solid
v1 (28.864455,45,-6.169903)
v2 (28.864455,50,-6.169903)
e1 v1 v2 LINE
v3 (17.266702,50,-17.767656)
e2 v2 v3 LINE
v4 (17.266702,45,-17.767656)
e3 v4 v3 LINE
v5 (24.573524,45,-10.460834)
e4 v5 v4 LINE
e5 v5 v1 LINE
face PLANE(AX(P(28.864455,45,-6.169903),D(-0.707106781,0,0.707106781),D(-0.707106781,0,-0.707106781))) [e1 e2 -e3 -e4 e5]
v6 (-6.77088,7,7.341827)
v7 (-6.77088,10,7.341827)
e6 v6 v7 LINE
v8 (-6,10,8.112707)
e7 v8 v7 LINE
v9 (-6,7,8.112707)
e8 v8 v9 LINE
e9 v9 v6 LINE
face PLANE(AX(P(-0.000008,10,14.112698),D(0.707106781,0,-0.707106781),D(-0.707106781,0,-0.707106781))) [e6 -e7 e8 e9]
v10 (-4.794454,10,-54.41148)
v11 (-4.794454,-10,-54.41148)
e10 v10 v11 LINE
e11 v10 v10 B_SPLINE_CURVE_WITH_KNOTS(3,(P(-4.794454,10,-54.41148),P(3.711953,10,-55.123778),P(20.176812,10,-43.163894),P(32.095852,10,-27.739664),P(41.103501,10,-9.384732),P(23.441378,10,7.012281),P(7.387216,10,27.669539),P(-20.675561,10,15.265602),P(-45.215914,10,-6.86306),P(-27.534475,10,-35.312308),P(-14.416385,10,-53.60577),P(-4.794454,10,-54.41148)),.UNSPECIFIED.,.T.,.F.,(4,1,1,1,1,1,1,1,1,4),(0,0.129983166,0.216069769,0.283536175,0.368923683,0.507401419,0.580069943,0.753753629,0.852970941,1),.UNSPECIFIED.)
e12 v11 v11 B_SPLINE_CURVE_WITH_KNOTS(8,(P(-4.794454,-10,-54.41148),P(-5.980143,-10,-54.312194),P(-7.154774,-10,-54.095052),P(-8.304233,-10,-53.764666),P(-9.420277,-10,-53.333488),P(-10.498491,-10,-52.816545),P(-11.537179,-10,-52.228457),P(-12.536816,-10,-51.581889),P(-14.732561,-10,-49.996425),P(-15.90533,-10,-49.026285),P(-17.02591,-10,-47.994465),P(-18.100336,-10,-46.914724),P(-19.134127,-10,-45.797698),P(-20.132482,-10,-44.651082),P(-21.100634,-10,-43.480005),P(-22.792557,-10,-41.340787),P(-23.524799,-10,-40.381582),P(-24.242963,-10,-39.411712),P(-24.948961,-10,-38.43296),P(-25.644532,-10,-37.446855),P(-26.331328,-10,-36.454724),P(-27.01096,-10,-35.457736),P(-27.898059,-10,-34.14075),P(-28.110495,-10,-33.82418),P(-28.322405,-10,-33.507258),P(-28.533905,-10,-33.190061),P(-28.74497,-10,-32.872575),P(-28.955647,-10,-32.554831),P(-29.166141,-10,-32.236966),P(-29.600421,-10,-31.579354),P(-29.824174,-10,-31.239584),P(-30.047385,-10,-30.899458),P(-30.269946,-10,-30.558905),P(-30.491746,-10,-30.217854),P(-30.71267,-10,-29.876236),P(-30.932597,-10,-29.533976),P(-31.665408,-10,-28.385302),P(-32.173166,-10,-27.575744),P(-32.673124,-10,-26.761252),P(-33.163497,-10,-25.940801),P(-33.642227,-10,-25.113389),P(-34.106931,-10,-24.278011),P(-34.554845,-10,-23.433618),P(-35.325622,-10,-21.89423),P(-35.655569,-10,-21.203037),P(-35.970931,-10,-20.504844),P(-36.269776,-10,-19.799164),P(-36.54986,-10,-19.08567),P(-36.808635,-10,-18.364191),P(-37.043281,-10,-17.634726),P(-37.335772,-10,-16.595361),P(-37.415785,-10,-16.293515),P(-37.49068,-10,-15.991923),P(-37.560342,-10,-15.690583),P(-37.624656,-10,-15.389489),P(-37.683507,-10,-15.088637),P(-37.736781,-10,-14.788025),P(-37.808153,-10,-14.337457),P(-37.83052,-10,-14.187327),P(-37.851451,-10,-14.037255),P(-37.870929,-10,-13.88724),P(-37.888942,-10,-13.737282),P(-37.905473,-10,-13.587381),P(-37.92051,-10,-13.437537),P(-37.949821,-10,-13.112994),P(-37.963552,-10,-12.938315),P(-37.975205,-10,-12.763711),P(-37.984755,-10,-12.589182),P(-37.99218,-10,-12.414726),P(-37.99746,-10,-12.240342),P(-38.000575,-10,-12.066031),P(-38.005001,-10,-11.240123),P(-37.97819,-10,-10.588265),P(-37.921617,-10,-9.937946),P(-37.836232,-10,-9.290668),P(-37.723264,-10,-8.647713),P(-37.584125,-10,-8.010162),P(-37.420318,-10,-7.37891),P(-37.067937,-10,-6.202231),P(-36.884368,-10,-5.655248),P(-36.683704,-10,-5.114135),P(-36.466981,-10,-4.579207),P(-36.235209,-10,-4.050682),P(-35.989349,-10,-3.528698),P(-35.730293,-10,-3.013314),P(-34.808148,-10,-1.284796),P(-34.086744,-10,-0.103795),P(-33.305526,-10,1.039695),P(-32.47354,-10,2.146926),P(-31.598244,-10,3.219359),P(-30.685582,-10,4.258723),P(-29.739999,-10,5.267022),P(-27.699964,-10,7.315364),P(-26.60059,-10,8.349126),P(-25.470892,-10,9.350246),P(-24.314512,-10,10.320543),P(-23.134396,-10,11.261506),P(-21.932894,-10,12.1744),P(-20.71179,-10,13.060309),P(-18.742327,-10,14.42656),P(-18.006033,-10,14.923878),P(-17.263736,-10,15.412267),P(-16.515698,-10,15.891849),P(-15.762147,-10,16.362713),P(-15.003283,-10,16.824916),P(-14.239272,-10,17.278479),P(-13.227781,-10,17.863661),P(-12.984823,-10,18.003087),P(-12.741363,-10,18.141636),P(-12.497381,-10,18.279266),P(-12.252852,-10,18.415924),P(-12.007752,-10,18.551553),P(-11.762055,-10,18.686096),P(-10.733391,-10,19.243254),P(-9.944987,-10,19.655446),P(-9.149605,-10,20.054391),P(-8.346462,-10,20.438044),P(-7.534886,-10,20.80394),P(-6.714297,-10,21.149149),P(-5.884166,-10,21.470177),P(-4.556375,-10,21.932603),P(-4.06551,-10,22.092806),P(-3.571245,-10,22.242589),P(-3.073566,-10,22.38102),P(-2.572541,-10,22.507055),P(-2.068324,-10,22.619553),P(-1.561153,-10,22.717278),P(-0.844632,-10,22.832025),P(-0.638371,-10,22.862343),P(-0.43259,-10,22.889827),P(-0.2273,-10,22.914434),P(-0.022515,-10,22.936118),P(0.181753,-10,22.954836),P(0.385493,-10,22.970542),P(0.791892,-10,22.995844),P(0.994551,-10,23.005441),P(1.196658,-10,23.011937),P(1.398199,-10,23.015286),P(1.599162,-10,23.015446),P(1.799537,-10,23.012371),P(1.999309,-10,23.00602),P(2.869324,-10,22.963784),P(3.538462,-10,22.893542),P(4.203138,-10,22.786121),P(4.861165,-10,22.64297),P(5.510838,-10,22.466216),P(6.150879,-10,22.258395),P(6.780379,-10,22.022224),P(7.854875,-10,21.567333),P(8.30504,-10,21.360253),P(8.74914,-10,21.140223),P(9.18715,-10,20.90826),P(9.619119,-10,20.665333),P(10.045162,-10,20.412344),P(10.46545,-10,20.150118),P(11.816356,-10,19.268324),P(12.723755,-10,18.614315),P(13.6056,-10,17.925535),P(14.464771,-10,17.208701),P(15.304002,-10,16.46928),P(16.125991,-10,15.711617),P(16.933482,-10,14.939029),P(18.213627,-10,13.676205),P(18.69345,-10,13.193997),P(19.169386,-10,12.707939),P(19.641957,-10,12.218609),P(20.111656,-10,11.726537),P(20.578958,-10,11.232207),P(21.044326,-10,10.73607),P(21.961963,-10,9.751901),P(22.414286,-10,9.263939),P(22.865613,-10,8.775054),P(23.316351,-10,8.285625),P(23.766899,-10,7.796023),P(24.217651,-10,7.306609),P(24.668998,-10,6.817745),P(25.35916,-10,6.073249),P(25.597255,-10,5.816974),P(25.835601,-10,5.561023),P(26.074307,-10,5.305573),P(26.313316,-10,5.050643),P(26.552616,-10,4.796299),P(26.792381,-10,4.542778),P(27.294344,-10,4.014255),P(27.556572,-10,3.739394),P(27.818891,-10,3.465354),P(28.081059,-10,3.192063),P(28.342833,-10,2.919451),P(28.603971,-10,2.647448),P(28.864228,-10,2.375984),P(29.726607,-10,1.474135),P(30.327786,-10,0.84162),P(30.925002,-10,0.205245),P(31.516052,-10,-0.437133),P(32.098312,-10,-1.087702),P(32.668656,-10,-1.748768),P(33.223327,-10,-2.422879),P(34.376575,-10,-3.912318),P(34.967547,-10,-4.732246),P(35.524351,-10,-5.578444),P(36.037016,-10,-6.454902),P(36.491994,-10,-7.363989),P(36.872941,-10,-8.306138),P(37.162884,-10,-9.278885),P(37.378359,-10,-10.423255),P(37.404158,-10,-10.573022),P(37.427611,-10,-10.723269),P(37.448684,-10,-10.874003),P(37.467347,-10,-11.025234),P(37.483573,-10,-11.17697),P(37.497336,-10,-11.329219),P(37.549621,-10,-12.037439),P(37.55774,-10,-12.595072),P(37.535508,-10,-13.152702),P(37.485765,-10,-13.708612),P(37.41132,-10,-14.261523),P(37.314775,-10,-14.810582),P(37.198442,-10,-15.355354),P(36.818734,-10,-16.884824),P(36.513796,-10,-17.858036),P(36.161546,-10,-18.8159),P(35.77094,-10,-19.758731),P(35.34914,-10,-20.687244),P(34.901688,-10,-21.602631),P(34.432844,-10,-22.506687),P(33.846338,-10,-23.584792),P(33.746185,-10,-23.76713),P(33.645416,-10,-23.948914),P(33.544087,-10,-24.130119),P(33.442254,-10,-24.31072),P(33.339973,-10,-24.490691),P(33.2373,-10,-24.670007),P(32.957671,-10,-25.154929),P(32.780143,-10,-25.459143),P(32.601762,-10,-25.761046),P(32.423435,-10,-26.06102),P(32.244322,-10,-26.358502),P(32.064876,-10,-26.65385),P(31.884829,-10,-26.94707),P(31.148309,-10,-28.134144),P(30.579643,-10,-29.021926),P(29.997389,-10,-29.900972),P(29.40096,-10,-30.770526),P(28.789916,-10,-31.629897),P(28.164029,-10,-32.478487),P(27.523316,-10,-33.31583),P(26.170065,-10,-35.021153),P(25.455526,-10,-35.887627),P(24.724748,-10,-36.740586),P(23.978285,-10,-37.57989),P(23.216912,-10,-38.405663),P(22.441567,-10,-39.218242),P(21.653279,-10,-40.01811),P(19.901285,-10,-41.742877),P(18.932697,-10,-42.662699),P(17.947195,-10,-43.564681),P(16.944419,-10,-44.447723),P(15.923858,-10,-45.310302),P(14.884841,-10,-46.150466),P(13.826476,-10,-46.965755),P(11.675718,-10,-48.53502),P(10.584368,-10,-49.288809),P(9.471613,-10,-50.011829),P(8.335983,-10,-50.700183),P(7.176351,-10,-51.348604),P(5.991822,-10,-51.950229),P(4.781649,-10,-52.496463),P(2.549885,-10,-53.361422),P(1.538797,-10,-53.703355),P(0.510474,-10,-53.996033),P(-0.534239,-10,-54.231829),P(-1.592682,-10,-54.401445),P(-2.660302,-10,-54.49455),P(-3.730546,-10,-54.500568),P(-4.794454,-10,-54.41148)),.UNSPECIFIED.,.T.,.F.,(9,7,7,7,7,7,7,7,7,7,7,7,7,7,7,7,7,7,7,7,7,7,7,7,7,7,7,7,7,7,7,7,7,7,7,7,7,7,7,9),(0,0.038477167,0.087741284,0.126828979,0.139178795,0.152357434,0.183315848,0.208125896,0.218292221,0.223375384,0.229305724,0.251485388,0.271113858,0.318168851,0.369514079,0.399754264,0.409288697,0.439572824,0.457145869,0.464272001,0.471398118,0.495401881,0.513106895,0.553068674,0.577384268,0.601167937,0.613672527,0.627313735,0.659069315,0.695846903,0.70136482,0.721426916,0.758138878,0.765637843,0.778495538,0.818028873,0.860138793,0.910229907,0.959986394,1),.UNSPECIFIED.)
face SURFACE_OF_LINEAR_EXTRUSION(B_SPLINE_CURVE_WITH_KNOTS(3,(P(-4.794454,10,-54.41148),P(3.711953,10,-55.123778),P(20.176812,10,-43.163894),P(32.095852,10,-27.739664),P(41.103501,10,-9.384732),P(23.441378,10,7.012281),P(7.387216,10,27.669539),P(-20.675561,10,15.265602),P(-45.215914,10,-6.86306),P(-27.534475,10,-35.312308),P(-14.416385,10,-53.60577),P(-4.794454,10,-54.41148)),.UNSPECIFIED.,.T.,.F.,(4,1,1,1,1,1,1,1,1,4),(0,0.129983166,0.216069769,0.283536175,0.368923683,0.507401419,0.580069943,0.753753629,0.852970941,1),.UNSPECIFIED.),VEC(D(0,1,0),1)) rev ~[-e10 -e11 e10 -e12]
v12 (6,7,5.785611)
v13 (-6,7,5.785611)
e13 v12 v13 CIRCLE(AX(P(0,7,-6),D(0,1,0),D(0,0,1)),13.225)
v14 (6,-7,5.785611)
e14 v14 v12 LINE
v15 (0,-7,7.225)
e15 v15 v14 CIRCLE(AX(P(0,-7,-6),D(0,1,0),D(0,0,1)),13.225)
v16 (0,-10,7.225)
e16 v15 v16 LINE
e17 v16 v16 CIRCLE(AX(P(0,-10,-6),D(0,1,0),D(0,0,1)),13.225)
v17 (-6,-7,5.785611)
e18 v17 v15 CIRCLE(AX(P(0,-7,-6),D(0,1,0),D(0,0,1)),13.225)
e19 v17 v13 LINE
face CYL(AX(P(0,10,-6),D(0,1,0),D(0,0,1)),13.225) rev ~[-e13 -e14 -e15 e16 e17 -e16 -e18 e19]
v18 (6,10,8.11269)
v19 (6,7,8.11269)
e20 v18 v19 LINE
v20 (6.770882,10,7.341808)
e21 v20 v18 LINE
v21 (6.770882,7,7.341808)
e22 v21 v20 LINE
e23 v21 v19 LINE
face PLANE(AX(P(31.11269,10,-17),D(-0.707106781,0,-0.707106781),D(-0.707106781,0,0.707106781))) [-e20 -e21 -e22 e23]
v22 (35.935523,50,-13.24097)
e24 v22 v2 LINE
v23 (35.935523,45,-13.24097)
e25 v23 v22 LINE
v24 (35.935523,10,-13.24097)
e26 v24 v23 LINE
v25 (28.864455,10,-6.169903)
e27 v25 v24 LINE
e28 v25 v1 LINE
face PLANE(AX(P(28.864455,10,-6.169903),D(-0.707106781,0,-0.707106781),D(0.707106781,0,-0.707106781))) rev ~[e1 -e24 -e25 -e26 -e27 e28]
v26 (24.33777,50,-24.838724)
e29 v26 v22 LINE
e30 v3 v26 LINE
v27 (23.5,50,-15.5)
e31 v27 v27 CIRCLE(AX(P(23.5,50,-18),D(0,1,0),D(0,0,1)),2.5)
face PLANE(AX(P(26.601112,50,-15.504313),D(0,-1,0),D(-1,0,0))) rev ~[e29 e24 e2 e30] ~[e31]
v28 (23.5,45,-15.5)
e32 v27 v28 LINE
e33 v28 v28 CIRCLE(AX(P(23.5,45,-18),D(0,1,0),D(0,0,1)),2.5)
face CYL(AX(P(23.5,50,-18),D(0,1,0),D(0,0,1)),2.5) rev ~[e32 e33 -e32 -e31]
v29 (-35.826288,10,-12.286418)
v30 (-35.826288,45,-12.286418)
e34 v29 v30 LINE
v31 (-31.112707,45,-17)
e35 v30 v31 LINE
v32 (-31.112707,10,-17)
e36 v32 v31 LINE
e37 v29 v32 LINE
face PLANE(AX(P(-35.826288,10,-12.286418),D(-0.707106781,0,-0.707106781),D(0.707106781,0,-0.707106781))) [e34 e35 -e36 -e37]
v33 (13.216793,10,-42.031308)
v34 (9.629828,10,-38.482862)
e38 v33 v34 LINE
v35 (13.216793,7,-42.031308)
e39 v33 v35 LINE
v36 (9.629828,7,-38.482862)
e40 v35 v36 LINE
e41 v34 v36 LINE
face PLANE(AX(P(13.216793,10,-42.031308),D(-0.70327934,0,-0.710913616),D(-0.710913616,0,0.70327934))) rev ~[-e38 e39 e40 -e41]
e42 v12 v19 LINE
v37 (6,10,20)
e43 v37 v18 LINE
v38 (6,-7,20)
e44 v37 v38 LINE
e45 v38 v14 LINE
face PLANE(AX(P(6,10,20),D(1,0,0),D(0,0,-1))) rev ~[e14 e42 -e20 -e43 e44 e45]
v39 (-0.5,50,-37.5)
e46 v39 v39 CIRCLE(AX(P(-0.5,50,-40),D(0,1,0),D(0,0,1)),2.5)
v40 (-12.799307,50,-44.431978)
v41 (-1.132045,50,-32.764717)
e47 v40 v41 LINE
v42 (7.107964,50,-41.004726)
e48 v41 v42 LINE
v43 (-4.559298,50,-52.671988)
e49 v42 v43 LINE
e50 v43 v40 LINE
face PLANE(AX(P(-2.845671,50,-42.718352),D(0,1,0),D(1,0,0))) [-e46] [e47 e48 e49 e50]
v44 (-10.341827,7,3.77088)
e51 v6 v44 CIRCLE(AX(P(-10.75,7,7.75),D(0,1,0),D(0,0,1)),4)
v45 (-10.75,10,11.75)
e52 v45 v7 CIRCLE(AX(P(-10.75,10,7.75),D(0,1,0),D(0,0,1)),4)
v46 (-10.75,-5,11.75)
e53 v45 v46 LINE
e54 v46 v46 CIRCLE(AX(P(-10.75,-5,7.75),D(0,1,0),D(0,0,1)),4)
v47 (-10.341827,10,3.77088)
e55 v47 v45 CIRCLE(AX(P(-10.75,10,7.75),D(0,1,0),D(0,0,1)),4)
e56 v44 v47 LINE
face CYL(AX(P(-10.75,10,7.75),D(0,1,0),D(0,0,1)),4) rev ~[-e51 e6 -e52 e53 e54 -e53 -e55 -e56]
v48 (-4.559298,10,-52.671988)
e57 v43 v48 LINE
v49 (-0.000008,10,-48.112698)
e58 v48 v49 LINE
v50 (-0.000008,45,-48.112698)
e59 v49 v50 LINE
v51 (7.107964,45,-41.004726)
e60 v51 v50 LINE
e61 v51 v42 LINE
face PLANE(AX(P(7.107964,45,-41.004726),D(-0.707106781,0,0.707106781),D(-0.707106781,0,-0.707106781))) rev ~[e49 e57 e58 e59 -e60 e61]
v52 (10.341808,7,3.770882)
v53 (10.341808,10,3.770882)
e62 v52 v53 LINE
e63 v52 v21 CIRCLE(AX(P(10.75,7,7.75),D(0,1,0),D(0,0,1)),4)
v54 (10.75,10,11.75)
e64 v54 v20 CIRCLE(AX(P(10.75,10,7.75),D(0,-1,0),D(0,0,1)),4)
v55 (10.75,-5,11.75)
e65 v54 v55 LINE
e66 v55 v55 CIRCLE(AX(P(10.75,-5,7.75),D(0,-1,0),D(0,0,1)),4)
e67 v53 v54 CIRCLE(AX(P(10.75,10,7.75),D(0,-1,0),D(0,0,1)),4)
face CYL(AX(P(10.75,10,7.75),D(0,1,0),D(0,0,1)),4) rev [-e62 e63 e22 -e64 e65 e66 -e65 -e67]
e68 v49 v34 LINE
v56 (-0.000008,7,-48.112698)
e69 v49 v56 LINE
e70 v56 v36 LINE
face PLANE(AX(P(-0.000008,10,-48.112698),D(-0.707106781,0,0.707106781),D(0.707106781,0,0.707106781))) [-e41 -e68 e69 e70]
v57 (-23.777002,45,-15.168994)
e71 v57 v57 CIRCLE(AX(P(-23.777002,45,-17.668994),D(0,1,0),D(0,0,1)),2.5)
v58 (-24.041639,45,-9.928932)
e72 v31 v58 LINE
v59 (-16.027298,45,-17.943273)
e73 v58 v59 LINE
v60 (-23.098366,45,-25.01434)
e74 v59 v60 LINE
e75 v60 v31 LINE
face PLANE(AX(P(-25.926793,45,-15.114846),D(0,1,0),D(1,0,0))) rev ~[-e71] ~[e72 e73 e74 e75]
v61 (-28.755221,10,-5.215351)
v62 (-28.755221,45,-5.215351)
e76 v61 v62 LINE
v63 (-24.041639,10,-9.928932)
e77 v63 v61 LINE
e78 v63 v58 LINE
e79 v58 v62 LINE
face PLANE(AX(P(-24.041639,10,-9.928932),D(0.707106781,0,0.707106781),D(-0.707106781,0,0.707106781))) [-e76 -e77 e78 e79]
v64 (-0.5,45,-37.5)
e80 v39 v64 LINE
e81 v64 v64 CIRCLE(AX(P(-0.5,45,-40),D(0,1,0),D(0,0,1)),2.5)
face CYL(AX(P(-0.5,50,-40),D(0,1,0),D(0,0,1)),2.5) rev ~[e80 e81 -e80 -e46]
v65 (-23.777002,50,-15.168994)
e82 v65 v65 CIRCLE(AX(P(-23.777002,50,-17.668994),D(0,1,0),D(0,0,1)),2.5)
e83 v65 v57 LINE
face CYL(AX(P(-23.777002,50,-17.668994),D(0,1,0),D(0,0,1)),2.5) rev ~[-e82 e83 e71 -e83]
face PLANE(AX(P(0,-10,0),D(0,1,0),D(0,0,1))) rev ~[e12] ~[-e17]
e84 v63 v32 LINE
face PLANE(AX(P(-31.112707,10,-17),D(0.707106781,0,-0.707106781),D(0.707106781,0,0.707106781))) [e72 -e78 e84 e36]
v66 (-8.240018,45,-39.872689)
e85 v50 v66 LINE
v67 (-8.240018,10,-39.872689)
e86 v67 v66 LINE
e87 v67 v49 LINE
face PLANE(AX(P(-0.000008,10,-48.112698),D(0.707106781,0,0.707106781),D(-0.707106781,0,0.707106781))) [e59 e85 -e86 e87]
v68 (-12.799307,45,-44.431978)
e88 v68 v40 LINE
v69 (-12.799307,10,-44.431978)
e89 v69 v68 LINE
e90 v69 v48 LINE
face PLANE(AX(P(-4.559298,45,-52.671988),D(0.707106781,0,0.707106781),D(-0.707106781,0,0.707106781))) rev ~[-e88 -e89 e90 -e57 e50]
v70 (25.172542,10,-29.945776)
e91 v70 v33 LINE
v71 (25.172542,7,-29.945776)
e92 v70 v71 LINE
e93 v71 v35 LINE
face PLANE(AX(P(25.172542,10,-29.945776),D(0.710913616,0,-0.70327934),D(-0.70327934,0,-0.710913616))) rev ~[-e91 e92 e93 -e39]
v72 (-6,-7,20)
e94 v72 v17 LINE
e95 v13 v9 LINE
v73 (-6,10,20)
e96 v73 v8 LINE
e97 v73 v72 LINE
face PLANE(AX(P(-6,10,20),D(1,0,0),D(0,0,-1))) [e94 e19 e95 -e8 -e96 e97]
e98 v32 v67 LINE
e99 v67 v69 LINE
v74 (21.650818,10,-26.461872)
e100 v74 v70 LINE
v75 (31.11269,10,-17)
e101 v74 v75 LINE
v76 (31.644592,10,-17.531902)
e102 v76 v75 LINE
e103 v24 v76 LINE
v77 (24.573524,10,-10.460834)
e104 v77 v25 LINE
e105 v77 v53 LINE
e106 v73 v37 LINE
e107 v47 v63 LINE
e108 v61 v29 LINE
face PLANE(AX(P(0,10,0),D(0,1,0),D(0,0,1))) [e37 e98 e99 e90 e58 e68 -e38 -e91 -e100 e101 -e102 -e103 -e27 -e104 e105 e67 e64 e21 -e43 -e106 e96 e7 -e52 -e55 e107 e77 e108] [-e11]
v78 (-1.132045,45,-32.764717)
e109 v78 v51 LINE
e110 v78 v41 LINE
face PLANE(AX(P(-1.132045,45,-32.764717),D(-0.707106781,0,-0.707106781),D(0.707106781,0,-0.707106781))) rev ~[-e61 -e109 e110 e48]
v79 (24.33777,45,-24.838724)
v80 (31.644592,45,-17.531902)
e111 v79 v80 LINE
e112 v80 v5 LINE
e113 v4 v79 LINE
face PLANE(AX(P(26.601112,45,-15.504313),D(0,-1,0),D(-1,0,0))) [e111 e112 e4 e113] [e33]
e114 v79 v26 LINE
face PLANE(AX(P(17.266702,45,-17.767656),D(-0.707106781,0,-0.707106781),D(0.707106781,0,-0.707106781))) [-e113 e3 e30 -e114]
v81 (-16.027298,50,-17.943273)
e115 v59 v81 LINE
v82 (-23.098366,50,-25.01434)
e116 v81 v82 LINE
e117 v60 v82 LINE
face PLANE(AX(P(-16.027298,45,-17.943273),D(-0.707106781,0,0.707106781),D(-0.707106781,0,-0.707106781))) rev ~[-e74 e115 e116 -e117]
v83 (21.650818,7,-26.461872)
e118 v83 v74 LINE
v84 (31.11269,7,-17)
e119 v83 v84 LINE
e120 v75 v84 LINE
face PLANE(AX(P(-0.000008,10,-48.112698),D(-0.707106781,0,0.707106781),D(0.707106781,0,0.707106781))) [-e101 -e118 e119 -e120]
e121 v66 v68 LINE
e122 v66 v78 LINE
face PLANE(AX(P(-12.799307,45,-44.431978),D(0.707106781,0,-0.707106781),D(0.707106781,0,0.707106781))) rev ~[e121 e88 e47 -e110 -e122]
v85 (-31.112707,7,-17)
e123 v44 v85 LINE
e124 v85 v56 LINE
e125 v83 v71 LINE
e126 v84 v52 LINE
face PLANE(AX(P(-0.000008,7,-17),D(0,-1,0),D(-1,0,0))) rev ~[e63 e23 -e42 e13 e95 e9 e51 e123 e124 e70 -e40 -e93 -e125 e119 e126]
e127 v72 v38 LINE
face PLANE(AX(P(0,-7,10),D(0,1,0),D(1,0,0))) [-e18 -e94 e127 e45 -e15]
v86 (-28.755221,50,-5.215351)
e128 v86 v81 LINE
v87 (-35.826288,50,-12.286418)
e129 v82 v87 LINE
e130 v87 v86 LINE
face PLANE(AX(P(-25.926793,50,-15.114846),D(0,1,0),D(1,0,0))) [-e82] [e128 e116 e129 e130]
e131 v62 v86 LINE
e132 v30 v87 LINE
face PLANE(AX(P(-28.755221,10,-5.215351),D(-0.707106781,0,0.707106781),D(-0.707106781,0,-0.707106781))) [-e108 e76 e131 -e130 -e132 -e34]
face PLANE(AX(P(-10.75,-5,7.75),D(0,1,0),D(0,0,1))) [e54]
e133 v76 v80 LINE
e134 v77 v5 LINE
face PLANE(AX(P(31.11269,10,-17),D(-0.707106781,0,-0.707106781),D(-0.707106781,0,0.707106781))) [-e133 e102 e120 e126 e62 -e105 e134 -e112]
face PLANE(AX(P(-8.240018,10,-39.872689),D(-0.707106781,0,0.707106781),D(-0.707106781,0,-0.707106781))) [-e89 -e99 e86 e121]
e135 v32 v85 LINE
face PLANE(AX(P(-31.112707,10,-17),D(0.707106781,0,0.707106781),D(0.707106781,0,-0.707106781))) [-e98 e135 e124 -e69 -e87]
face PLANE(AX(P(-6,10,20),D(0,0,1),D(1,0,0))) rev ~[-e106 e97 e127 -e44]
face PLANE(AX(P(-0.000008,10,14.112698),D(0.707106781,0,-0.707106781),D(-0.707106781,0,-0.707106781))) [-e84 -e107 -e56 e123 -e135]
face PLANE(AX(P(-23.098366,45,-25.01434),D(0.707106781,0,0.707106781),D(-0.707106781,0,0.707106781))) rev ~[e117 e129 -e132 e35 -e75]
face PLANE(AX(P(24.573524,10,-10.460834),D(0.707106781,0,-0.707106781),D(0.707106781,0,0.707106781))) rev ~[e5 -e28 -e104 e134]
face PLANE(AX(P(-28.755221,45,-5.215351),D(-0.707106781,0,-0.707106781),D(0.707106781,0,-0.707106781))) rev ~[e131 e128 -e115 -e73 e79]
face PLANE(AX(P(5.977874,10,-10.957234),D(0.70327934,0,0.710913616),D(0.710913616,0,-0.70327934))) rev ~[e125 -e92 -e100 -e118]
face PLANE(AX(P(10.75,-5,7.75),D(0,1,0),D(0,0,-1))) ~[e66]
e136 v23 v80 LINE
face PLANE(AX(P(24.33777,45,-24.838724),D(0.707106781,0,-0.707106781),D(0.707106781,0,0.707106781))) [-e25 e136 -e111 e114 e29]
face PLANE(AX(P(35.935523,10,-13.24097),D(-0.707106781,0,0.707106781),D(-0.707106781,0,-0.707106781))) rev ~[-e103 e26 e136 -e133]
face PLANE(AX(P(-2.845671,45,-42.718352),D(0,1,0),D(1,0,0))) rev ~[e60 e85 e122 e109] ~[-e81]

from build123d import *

# Parameters (mm, degrees)
BOSS_EXTRUDE1_DEPTH      = 10
BOSS_EXTRUDE1_DEPTH_BACK = 10
SKETCH2_R                = 60
SKETCH7_R                = 4
CUT_EXTRUDE2_DEPTH       = 15
CUT_EXTRUDE4_DEPTH       = 3
CUT_EXTRUDE5_DEPTH       = 3
BOSS_EXTRUDE2_DEPTH      = 35
BOSS_EXTRUDE3_DEPTH      = 5
SKETCH13_R               = 2.5
CUT_EXTRUDE7_DEPTH       = 5
SKETCH15_R               = 2.5
CUT_EXTRUDE8_DEPTH       = 5
SKETCH14_R               = 2.5
CUT_EXTRUDE9_DEPTH       = 5
SKETCH16_R               = 60
CUT_EXTRUDE10_DEPTH      = 38
SKETCH4_R                = 13.225
CUT_EXTRUDE12_DEPTH      = 42
SKETCH19_W               = 12
SKETCH19_H               = 20
CUT_EXTRUDE13_DEPTH      = 17


with BuildPart() as part:
    # Sketch2 → Boss-Extrude1 (new, two sides: drawn at the far end of the back side and taken through both)
    with BuildSketch(Plane(origin=(0, 0, 0), x_dir=(1, 0, 0), z_dir=(0, 1, 0)).offset(-BOSS_EXTRUDE1_DEPTH_BACK)):
        with Locations(Location((0, 0, 0), (0, 0, 270))):
            Circle(SKETCH2_R)
    extrude(amount=BOSS_EXTRUDE1_DEPTH + BOSS_EXTRUDE1_DEPTH_BACK)

    # Sketch7 → Cut-Extrude2 (cut)
    with BuildSketch(Plane(origin=(0, 10, 0), x_dir=(1, 0, 0), z_dir=(0, 1, 0))):
        with Locations(Location((-10.75, -7.75, 0), (0, 0, 270))):
            Circle(SKETCH7_R)
    cut_extrude2 = extrude(amount=-CUT_EXTRUDE2_DEPTH, mode=Mode.SUBTRACT)

    # Mirror1: Cut-Extrude2 across plane
    add(cut_extrude2.mirror(Plane(origin=(0, 0, 0), x_dir=(0, 0, 1), z_dir=(1, 0, 0))), mode=Mode.SUBTRACT)

    # Sketch9 → Cut-Extrude4 (cut)
    with BuildSketch(Plane(origin=(0, 10, 0), x_dir=(1, 0, 0), z_dir=(0, 1, 0))):
        Polygon((-31.112706744, 17), (-8.372e-06, 48.112698372), (31.11269, 17), (-8.372e-06, -14.112698372), align=None)
    extrude(amount=-CUT_EXTRUDE4_DEPTH, mode=Mode.SUBTRACT)

    # Sketch6 → Cut-Extrude5 (cut)
    with BuildSketch(Plane(origin=(0, 10, 0), x_dir=(1, 0, 0), z_dir=(0, 1, 0))):
        Polygon((-5.977874391, 23.042765738), (5.977874391, 10.957234262), (25.17254203, 29.945776443), (13.216793249, 42.03130792), align=None)
    extrude(amount=-CUT_EXTRUDE5_DEPTH, mode=Mode.SUBTRACT)

    # Sketch11 → Boss-Extrude2 (add)
    with BuildSketch(Plane(origin=(0, 10, 0), x_dir=(1, 0, 0), z_dir=(0, 1, 0))):
        Polygon((-8.372e-06, 48.112698372), (-8.240017503, 39.872689242), (-12.799306685, 44.431978425), (-4.559297555, 52.671987555), align=None)
        Polygon((-31.112706744, 17), (-24.041638933, 9.928932188), (-28.755220541, 5.21535058), (-35.826288353, 12.286418392), align=None)
        Polygon((31.644591703, 17.531901703), (24.573523891, 10.460833891), (28.864455193, 6.169902588), (35.935523005, 13.2409704), align=None)
    extrude(amount=BOSS_EXTRUDE2_DEPTH)

    # Sketch12 → Boss-Extrude3 (add)
    with BuildSketch(Plane(origin=(0, 45, 0), x_dir=(1, 0, 0), z_dir=(0, 1, 0))):
        Polygon((-4.559297555, 52.671987555), (-12.799306685, 44.431978425), (-1.132044796, 32.764716535), (7.107964335, 41.004725665), align=None)
        Polygon((-35.826288353, 12.286418392), (-28.755220541, 5.21535058), (-16.027298479, 17.943272641), (-23.098366291, 25.014340453), align=None)
        Polygon((35.935523005, 13.2409704), (28.864455193, 6.169902588), (17.266701717, 17.767656064), (24.337769529, 24.838723876), align=None)
    extrude(amount=BOSS_EXTRUDE3_DEPTH)

    # Sketch13 → Cut-Extrude7 (cut)
    with BuildSketch(Plane(origin=(0, 50, 0), x_dir=(1, 0, 0), z_dir=(0, 1, 0))):
        with Locations(Location((-0.5, 40, 0), (0, 0, 270))):
            Circle(SKETCH13_R)
    extrude(amount=-CUT_EXTRUDE7_DEPTH, mode=Mode.SUBTRACT)

    # Sketch15 → Cut-Extrude8 (cut)
    with BuildSketch(Plane(origin=(0, 50, 0), x_dir=(1, 0, 0), z_dir=(0, 1, 0))):
        with Locations(Location((-23.777002133, 17.668993601, 0), (0, 0, 270))):
            Circle(SKETCH15_R)
    extrude(amount=-CUT_EXTRUDE8_DEPTH, mode=Mode.SUBTRACT)

    # Sketch14 → Cut-Extrude9 (cut)
    with BuildSketch(Plane(origin=(0, 50, 0), x_dir=(1, 0, 0), z_dir=(0, 1, 0))):
        with Locations(Location((23.5, 18, 0), (0, 0, 270))):
            Circle(SKETCH14_R)
    extrude(amount=-CUT_EXTRUDE9_DEPTH, mode=Mode.SUBTRACT)

    # Sketch16 → Cut-Extrude10 (cut)
    with BuildSketch(Plane(origin=(0, 10, 0), x_dir=(1, 0, 0), z_dir=(0, 1, 0))):
        Circle(SKETCH16_R)
        with BuildLine():
            add(Edge.make_bspline(
                [(-4.79445414, 54.411479542), (3.711953261, 55.123778385), (20.176812176, 43.163893552), (32.095851639, 27.739664068), (41.103501035, 9.384731909), (23.441378071, -7.012281145), (7.387216057, -27.669539214), (-20.675561177, -15.265601832), (-45.215914175, 6.863059518), (-27.534475147, 35.312307502), (-14.416385352, 53.60577037), (-4.79445414, 54.411479542)],
                knots=[0, 0, 0, 0, 0.129983166, 0.216069769, 0.283536175, 0.368923683, 0.507401419, 0.580069943, 0.753753629, 0.852970941, 1, 1, 1, 1], degree=3))
        make_face(mode=Mode.SUBTRACT)
    extrude(amount=-CUT_EXTRUDE10_DEPTH, mode=Mode.SUBTRACT)

    # Sketch4 → Cut-Extrude12 (cut)
    with BuildSketch(Plane(origin=(0, 10, 0), x_dir=(1, 0, 0), z_dir=(0, 1, 0))):
        with Locations(Location((0, 6, 0), (0, 0, 270))):
            Circle(SKETCH4_R)
    extrude(amount=-CUT_EXTRUDE12_DEPTH, mode=Mode.SUBTRACT)

    # Sketch19 → Cut-Extrude13 (cut)
    with BuildSketch(Plane(origin=(0, 10, 0), x_dir=(1, 0, 0), z_dir=(0, 1, 0))):
        with Locations((0, -10)):
            Rectangle(SKETCH19_W, SKETCH19_H)
    extrude(amount=-CUT_EXTRUDE13_DEPTH, mode=Mode.SUBTRACT)


solid = part.part
